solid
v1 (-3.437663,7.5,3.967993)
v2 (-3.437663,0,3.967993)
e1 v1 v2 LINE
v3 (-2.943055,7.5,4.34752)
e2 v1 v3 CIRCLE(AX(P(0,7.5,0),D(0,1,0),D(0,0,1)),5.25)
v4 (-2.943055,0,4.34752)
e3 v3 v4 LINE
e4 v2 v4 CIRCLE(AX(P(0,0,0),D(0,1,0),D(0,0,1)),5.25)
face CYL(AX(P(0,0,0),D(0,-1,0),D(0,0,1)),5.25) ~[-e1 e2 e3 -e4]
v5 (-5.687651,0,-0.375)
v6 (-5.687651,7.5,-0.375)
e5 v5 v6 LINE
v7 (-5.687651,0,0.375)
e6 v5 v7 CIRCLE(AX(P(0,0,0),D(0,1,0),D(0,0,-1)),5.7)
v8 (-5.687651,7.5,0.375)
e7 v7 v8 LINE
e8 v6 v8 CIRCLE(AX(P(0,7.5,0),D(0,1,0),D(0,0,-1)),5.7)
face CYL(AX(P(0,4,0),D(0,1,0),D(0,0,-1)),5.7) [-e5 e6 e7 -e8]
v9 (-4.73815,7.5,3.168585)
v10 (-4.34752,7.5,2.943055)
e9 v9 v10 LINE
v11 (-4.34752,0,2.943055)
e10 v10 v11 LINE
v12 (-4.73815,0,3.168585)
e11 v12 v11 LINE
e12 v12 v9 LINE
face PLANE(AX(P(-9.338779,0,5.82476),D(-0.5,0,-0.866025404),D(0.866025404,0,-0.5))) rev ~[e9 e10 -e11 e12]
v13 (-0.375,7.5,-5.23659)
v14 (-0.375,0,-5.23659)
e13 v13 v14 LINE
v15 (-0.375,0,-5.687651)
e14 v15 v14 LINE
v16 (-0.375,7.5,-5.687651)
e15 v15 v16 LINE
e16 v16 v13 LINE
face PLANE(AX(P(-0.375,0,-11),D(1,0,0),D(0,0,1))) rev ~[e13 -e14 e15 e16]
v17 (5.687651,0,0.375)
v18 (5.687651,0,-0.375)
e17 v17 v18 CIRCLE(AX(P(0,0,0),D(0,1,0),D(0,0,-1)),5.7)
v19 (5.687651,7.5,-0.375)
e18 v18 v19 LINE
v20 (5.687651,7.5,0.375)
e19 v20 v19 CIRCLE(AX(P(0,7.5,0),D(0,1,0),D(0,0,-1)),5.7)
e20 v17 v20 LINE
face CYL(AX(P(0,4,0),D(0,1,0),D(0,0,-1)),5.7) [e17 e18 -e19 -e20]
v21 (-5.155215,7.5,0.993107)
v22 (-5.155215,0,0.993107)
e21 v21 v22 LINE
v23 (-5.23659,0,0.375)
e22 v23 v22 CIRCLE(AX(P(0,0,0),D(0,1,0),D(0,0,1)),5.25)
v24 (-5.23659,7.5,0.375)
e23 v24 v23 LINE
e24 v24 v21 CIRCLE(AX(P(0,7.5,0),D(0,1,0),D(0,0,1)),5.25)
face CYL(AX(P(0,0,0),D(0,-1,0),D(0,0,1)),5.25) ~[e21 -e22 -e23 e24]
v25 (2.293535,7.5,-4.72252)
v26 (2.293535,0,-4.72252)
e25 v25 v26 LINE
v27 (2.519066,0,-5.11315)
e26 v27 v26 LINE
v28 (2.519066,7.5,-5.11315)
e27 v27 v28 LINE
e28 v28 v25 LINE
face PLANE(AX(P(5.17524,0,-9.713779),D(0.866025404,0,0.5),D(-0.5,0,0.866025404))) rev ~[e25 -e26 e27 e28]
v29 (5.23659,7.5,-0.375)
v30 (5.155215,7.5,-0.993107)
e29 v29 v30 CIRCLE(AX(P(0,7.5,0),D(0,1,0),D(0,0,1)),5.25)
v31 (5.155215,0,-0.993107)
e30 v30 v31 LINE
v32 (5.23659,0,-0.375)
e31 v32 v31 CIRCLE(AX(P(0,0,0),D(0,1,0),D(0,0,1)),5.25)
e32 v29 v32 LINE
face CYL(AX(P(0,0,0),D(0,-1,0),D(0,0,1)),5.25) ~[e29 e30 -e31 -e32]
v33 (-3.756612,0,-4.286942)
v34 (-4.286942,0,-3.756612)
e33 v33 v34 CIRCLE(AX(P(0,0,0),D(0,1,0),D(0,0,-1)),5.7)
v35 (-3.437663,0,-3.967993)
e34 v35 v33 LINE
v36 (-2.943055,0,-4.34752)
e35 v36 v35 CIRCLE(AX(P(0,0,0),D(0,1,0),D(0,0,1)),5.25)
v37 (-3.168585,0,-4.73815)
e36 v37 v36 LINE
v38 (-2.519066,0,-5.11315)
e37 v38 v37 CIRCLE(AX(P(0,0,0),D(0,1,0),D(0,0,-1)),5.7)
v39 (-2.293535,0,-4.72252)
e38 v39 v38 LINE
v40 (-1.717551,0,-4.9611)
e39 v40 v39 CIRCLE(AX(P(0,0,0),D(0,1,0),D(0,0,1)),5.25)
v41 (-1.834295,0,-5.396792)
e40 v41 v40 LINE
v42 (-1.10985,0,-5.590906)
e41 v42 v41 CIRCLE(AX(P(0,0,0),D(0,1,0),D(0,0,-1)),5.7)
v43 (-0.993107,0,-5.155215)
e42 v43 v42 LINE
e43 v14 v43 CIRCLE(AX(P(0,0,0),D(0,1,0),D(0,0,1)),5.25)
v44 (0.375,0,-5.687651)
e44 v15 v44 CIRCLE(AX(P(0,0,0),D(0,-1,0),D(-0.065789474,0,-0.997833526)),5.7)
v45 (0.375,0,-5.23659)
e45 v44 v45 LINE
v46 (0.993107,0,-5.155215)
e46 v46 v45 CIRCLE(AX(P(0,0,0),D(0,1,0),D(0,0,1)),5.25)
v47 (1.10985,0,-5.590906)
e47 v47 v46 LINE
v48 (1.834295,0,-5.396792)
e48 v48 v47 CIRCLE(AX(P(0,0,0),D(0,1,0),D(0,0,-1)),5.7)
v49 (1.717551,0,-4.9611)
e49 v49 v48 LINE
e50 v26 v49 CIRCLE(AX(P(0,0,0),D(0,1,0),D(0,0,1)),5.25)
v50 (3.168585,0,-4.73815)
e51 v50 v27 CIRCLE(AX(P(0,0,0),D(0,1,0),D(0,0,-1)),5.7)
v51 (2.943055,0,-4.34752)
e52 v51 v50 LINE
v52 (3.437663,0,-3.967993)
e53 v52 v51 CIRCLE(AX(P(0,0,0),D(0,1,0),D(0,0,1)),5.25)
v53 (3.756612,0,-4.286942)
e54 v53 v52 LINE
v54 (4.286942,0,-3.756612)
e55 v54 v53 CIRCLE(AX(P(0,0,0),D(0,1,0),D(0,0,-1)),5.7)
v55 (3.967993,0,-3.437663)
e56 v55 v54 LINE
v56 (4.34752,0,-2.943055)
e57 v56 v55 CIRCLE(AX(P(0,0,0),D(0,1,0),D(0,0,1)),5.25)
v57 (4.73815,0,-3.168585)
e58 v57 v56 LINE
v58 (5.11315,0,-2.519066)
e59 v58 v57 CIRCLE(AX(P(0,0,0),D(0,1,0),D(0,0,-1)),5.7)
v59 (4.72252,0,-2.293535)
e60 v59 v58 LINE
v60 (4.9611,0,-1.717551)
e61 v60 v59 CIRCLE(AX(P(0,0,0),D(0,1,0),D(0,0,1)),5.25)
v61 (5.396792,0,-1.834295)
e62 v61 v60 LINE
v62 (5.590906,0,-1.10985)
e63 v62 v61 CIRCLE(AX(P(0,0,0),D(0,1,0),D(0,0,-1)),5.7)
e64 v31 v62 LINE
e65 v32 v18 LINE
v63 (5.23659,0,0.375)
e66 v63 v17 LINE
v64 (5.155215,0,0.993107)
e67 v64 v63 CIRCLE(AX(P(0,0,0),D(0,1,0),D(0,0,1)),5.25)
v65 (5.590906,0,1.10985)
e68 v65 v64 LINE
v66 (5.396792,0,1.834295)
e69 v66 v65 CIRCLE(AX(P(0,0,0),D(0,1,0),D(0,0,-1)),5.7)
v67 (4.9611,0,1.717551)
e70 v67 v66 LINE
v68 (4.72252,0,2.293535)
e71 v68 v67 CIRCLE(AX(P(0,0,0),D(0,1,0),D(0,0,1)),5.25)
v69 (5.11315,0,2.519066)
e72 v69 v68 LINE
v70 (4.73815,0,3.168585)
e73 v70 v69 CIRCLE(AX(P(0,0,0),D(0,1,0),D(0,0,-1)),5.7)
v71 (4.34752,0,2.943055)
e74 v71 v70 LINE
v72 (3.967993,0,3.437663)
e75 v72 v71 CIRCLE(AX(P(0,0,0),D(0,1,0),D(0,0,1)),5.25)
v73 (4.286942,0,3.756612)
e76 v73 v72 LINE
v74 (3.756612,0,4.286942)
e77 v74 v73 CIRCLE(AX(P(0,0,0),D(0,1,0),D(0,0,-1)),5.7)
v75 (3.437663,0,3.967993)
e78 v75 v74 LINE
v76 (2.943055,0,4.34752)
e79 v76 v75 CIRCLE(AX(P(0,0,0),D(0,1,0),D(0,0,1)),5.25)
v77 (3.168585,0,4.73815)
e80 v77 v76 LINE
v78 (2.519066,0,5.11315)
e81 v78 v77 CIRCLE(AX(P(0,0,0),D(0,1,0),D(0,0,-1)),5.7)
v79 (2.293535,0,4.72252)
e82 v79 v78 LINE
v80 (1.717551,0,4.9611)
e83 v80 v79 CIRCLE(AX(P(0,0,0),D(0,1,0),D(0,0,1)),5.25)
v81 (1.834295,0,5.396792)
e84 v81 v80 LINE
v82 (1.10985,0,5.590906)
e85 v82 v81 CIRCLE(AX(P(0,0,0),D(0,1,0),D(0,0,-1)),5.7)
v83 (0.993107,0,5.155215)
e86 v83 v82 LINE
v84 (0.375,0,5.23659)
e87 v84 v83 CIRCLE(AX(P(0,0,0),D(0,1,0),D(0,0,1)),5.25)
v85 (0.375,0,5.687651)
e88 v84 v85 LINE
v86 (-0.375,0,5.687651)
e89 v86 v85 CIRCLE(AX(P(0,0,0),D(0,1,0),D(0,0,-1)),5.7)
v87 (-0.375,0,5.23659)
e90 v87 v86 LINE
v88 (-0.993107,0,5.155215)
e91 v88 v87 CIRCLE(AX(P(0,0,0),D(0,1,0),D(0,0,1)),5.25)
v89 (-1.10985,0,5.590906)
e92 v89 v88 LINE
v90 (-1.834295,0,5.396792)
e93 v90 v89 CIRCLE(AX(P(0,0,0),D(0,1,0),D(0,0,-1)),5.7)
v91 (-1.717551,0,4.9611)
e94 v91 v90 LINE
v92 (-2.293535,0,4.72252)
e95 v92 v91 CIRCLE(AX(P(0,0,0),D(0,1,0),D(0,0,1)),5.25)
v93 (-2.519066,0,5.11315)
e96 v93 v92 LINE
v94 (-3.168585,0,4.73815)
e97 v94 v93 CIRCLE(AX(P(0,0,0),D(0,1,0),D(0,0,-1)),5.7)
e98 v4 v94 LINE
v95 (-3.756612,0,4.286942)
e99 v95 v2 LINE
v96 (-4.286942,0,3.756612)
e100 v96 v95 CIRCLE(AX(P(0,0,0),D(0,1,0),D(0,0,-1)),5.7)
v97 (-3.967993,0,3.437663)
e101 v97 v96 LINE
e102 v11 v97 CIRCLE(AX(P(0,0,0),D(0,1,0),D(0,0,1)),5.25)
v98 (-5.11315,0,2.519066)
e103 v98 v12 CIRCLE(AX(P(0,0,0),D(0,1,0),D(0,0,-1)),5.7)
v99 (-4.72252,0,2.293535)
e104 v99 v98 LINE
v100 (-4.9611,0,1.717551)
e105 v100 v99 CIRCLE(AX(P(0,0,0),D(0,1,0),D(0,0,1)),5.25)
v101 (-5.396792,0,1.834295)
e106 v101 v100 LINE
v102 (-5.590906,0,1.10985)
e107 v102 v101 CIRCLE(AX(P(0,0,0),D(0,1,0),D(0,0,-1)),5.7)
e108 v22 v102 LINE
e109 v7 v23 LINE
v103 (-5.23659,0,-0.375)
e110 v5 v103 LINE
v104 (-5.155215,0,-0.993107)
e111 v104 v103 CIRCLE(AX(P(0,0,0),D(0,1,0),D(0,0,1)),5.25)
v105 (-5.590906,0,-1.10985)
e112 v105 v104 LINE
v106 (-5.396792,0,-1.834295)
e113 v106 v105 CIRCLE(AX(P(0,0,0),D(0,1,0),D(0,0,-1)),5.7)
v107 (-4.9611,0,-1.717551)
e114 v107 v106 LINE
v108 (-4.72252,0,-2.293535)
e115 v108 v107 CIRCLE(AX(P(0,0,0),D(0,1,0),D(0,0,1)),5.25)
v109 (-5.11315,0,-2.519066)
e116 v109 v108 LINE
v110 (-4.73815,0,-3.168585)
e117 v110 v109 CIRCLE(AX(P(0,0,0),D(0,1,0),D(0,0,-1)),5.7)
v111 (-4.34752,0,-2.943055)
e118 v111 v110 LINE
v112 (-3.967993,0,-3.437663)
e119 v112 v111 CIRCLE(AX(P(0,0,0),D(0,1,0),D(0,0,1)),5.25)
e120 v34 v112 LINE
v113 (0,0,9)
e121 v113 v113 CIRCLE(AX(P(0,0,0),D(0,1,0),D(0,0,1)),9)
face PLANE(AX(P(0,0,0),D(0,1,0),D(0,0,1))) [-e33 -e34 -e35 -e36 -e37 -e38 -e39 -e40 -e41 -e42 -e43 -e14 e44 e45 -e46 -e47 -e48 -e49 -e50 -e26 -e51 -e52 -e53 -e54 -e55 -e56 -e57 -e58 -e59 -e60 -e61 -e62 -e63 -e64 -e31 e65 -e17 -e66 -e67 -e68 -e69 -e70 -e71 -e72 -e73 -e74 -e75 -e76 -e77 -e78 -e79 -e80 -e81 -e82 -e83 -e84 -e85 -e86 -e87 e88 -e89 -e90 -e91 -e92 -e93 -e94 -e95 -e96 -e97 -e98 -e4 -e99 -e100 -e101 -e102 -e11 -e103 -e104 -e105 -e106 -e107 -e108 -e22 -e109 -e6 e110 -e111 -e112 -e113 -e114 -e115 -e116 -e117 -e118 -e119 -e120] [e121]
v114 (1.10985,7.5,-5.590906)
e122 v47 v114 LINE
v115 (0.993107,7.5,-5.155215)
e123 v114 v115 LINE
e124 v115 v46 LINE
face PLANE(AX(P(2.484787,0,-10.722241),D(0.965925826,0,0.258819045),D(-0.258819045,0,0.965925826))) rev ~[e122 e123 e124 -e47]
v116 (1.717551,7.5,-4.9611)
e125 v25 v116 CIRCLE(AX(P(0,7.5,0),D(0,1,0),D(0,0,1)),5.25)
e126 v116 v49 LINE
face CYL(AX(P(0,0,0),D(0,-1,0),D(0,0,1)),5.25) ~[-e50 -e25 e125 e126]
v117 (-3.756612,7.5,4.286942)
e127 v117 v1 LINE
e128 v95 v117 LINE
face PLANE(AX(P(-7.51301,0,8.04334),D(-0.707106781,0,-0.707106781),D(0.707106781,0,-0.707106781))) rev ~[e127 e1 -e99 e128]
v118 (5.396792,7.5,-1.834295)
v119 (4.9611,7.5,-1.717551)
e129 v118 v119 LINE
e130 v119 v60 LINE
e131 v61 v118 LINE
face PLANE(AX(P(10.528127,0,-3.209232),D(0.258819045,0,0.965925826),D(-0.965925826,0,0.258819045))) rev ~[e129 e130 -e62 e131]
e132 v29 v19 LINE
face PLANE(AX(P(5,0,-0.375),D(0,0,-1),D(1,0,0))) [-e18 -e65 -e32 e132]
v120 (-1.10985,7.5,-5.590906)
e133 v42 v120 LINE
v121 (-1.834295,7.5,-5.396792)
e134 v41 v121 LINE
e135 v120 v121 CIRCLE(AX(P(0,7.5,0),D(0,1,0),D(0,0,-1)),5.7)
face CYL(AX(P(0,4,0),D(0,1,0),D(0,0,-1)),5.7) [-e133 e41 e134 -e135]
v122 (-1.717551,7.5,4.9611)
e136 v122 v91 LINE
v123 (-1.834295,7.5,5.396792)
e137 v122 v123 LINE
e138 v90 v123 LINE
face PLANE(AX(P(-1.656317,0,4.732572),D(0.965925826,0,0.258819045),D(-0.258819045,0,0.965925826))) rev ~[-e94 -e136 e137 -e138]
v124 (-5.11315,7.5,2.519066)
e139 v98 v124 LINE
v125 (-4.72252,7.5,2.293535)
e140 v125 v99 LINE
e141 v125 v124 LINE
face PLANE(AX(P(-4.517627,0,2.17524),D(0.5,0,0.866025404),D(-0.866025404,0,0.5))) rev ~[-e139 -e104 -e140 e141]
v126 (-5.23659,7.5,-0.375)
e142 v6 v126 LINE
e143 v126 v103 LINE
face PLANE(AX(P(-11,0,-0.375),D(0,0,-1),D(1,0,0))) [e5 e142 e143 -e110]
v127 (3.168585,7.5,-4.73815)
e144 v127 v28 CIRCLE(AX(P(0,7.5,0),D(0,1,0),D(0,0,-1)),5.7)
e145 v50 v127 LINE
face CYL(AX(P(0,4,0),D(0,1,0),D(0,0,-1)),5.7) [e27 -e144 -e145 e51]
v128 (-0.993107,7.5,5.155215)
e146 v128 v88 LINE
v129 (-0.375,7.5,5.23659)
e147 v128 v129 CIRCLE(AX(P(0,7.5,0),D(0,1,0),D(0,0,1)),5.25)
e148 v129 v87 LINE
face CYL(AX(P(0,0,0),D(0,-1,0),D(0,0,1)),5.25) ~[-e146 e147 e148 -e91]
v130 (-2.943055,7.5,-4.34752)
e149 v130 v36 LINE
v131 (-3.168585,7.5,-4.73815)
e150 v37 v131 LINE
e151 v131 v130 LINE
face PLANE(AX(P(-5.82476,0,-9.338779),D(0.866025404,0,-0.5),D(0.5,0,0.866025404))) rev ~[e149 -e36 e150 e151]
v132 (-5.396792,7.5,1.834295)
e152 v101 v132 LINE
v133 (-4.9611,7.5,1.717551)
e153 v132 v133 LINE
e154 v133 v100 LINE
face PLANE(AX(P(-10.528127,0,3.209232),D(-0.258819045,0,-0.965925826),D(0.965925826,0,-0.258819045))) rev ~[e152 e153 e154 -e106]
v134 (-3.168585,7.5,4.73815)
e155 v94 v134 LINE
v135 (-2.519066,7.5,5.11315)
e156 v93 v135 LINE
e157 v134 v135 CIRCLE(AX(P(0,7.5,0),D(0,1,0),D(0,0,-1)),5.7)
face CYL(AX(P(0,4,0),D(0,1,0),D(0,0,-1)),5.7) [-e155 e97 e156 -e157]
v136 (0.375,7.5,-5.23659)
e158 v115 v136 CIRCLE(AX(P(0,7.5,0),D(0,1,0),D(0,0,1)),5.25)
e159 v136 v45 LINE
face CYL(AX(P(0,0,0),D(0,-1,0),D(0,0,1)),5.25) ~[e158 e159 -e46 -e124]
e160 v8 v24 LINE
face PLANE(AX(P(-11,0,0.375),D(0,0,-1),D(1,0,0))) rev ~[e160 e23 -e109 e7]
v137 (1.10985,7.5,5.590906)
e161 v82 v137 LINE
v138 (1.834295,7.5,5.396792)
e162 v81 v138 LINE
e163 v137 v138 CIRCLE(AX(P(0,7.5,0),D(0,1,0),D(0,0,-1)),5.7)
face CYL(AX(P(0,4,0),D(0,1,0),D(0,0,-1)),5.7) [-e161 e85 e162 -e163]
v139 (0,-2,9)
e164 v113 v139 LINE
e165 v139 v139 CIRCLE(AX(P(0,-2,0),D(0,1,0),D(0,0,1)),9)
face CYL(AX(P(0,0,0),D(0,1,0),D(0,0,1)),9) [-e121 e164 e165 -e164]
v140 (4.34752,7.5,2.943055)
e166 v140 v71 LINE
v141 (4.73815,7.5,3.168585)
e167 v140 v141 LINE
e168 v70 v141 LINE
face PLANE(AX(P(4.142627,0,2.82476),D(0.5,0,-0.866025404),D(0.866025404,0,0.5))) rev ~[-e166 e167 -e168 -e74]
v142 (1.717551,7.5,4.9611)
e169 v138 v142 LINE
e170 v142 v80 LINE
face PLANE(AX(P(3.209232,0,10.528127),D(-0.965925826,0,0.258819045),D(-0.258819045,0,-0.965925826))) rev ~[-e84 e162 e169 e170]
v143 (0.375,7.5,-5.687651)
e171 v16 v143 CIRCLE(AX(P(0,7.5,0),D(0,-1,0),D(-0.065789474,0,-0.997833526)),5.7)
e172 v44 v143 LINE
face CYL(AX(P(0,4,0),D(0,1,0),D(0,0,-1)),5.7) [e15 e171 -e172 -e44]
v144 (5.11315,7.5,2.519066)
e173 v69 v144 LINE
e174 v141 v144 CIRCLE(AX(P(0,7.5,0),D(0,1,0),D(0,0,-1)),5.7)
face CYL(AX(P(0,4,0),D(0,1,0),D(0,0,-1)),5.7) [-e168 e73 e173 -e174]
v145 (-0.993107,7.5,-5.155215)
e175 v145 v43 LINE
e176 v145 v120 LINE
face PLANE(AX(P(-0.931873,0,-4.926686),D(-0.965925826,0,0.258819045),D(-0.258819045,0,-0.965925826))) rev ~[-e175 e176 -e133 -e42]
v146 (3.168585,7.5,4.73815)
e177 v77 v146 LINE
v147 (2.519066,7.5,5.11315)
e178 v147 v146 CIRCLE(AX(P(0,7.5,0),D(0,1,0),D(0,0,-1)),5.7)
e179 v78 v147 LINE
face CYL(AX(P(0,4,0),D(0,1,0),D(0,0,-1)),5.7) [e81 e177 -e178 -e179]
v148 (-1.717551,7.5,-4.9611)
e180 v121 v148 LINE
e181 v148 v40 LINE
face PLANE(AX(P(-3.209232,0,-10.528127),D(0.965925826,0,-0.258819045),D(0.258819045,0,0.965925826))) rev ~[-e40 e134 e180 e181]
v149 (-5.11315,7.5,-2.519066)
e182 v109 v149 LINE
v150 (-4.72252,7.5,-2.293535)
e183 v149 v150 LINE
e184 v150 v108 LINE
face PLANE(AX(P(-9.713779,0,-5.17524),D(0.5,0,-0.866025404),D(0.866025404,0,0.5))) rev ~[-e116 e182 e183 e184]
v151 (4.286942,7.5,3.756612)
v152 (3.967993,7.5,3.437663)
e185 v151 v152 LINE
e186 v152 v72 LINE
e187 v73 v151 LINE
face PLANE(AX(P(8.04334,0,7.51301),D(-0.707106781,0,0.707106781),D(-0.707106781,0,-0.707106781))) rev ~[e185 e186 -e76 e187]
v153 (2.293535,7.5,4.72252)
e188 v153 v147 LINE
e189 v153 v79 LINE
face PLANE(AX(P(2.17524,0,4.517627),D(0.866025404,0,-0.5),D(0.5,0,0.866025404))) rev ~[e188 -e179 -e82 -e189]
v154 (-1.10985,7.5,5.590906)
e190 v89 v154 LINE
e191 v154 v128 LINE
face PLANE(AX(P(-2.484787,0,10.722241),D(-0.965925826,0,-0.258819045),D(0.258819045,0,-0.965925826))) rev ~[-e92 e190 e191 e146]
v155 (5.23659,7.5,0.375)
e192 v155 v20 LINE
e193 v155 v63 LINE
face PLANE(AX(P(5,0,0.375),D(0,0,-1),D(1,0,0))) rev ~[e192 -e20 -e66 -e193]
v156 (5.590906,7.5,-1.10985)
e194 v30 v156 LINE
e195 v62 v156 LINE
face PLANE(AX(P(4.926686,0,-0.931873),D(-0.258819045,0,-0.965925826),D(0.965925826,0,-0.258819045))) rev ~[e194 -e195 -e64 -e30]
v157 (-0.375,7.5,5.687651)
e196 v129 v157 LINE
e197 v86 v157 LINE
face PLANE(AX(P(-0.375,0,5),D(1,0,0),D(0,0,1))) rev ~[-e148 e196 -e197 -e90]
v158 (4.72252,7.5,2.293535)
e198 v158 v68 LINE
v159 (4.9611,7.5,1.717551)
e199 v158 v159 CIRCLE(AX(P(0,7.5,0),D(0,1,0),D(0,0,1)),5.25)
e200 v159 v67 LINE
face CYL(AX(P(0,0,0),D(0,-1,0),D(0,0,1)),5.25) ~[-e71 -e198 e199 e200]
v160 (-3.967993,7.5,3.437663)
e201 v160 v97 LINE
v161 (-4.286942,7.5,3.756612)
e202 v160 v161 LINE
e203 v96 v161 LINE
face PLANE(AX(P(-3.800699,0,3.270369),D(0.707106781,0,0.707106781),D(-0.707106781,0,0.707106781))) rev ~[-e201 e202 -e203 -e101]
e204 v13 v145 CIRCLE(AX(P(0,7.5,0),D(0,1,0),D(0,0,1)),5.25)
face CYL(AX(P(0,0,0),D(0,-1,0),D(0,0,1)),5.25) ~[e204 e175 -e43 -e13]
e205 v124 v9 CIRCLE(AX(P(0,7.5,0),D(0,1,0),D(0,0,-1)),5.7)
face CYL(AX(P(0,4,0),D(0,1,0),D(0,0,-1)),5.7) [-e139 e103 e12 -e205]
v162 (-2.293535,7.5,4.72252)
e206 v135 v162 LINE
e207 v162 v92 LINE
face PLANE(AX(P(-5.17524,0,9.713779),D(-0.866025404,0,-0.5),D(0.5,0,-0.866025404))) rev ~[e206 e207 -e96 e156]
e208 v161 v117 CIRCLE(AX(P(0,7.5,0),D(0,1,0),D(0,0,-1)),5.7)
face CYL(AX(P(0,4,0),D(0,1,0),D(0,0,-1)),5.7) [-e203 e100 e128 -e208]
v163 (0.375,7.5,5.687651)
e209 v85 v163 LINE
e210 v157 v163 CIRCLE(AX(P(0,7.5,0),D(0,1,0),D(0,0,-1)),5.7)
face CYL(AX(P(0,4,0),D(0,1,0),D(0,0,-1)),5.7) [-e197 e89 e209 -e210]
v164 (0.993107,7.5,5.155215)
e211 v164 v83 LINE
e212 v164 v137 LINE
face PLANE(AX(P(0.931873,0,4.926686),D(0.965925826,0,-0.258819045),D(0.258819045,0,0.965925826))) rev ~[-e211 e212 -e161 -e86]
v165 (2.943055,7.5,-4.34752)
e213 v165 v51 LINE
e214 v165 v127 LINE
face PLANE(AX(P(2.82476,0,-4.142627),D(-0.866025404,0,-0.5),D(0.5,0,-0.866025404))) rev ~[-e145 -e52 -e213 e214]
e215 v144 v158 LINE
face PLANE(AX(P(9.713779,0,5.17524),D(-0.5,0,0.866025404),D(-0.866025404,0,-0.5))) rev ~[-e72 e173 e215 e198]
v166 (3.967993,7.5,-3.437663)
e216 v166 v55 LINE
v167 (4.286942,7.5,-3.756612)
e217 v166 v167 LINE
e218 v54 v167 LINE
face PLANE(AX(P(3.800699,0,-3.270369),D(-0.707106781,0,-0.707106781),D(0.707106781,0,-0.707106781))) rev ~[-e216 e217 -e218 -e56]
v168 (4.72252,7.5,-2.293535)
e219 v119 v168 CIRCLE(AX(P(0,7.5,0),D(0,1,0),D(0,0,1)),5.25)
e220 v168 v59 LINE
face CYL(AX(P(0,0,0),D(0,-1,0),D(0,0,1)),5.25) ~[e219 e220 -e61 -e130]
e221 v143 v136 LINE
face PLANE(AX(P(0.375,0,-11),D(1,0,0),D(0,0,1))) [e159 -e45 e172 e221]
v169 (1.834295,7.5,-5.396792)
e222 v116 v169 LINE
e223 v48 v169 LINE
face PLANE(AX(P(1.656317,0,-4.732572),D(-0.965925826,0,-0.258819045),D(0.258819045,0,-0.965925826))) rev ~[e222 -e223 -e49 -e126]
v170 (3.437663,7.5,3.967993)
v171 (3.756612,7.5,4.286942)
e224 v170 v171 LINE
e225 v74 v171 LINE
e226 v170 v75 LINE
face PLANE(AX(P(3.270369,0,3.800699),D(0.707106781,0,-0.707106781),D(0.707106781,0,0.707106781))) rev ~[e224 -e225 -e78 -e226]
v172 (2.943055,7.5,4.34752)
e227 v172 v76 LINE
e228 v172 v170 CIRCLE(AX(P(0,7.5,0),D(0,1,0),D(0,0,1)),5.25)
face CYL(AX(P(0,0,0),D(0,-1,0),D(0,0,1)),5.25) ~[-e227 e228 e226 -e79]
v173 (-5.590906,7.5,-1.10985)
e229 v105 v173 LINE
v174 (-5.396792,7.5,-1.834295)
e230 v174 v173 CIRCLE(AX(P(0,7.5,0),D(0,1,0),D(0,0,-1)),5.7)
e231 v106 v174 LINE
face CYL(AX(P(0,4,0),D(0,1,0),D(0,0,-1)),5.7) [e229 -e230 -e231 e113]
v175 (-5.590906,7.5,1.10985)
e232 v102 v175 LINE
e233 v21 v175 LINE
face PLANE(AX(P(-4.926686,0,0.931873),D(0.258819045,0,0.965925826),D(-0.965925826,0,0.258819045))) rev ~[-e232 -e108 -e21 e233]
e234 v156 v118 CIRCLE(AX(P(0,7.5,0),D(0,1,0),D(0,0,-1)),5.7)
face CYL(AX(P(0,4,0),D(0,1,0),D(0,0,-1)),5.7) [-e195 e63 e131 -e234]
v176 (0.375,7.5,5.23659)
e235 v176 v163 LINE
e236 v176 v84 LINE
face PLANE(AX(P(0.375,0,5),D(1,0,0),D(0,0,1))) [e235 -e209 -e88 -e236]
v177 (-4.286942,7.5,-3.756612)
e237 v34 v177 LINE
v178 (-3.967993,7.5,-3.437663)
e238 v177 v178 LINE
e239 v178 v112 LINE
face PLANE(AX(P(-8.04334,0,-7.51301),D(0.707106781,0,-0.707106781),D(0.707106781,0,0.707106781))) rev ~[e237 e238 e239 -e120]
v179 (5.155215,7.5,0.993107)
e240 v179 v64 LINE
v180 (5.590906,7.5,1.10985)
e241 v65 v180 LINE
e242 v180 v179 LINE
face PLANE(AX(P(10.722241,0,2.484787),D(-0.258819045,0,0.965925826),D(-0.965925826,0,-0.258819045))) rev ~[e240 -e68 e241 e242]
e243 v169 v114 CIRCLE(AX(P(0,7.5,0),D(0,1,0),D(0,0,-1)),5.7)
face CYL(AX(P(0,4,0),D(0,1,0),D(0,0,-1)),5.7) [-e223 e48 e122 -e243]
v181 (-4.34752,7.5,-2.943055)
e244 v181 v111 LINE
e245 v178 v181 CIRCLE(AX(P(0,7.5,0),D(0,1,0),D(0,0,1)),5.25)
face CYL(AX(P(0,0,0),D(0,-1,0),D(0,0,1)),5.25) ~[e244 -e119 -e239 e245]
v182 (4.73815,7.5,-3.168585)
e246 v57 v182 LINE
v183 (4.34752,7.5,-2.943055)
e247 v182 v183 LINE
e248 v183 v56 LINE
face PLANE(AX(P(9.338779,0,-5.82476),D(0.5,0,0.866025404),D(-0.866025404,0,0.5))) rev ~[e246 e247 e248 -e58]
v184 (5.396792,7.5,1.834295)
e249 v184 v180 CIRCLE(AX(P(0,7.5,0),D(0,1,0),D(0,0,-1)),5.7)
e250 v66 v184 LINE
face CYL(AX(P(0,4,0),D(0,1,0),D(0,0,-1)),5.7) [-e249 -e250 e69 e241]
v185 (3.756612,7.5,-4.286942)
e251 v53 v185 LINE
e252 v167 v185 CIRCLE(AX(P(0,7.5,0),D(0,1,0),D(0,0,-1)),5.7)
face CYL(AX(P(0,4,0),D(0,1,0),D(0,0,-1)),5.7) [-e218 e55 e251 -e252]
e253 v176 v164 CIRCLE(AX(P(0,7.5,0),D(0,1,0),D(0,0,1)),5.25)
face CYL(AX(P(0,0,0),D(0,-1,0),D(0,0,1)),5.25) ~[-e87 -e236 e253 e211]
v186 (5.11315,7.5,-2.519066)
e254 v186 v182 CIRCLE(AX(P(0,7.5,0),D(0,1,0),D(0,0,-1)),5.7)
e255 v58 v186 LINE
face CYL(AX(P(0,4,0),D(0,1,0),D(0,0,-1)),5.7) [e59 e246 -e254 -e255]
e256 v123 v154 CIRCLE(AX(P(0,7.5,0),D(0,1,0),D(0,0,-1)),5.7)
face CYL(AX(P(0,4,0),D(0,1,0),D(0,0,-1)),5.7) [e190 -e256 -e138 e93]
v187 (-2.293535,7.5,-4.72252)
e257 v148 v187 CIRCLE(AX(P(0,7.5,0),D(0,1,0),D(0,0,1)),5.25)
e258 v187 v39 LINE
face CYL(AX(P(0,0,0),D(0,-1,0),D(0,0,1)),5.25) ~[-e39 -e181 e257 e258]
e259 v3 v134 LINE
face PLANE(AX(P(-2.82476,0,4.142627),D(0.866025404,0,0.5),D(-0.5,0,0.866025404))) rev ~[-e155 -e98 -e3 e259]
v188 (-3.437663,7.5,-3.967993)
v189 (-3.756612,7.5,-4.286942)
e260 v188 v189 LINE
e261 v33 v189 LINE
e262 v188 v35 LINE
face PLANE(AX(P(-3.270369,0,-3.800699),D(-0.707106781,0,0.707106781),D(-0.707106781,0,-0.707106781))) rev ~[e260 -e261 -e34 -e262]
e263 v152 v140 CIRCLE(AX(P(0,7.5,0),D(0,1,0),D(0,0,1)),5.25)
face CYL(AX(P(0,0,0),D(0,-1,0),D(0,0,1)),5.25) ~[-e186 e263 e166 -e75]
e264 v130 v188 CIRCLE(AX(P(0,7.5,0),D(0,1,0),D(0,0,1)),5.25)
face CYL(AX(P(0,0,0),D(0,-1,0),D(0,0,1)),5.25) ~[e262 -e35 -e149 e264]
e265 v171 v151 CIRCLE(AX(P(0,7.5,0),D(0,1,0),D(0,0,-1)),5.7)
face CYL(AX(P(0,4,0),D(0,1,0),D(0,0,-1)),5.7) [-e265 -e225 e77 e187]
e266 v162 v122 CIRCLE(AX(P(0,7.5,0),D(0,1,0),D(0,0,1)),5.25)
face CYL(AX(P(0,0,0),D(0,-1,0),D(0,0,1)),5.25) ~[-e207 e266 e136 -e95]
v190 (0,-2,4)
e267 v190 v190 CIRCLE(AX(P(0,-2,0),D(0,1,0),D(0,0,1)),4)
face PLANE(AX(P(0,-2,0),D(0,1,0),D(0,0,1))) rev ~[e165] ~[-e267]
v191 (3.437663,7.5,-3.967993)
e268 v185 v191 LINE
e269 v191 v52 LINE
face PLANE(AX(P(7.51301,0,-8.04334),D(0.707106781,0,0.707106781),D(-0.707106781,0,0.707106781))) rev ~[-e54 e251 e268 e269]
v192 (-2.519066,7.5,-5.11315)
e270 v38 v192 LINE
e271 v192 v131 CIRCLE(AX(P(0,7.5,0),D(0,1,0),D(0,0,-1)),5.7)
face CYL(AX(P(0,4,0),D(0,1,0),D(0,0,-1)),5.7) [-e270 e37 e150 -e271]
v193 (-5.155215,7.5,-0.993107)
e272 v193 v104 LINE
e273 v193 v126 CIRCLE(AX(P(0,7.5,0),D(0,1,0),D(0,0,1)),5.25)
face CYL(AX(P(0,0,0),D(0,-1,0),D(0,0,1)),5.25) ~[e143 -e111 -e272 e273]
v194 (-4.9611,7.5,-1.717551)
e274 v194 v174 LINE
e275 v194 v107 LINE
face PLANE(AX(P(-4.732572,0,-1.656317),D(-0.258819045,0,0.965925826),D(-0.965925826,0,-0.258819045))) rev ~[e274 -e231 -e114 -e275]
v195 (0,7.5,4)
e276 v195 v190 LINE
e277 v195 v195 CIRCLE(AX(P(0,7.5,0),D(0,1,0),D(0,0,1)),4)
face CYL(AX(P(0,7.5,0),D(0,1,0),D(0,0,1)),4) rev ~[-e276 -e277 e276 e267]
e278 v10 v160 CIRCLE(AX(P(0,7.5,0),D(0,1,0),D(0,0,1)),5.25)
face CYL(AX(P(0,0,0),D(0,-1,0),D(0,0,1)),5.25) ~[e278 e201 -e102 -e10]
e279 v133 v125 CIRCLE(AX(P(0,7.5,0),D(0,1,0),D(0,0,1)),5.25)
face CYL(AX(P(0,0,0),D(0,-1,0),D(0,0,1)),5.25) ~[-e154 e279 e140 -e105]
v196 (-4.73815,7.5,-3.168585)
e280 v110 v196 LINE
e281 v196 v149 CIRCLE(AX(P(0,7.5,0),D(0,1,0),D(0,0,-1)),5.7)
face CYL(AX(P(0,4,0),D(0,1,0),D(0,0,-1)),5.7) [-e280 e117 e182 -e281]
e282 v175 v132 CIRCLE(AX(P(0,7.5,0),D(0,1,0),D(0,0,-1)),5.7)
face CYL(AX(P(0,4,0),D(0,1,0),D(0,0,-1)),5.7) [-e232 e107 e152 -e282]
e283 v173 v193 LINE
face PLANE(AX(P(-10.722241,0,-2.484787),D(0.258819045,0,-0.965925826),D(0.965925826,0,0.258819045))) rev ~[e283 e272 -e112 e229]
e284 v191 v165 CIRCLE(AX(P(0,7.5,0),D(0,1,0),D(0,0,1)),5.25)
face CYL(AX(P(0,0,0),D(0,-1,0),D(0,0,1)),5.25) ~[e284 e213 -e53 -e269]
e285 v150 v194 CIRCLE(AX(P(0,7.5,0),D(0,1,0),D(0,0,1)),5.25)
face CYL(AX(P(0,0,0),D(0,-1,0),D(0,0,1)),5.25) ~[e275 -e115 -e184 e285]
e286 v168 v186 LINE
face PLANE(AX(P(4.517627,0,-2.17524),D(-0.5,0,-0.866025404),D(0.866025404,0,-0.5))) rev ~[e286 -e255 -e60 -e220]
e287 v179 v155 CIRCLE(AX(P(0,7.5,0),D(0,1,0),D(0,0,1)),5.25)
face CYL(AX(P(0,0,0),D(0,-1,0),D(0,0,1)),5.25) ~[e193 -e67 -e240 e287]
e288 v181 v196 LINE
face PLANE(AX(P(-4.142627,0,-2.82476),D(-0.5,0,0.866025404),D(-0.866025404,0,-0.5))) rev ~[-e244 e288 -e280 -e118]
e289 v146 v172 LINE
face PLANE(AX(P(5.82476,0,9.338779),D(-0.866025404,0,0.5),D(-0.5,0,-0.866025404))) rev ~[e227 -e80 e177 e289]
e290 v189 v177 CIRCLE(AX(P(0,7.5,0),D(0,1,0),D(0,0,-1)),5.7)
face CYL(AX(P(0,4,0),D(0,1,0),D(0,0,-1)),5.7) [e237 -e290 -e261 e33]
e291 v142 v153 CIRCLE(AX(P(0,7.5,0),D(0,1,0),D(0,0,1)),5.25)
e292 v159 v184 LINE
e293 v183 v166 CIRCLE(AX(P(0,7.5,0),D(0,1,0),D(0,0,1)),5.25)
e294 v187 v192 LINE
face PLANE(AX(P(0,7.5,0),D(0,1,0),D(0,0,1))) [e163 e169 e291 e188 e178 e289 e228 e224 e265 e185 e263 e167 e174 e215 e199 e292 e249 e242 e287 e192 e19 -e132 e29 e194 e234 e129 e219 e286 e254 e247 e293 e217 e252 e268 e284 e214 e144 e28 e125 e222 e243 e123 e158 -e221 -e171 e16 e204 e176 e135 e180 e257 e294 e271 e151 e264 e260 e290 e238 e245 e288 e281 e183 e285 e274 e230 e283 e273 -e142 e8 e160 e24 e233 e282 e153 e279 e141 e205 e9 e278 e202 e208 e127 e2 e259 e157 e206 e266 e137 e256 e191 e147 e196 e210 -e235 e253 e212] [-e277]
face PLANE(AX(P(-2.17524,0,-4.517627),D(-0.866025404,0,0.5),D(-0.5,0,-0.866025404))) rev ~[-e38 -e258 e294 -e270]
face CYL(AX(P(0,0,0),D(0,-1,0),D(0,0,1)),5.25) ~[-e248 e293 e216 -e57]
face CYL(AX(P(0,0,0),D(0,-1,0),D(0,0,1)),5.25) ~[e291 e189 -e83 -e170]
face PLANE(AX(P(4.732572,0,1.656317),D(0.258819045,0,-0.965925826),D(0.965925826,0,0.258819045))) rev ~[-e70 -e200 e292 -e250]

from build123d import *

# Parameters (mm, degrees)
SKETCH1_R           = 5.25
BOSS_EXTRUDE1_DEPTH = 7.5
SKETCH2_W           = 6
SKETCH2_H           = 0.75
SKETCH2_W_2         = 0.75
SKETCH2_H_2         = 6
BOSS_EXTRUDE2_DEPTH = 7.5
SKETCH5_W           = 10
SKETCH5_H           = 10
SKETCH6_R           = 9
BOSS_EXTRUDE3_DEPTH = 2
SKETCH7_R           = 4
CUT_EXTRUDE2_DEPTH  = 16.882380174


with BuildPart() as part:
    # Sketch1 → Boss-Extrude1 (new body)
    with BuildSketch(Plane(origin=(0, 0, 0), x_dir=(1, 0, 0), z_dir=(0, 1, 0))):
        with Locations(Location((0, 0, 0), (0, 0, 270))):
            Circle(SKETCH1_R)
    extrude(amount=BOSS_EXTRUDE1_DEPTH)

    # Sketch2 → Boss-Extrude2 (add)
    with BuildSketch(Plane.XZ):
        with Locations((8, 0)):
            Rectangle(SKETCH2_W, SKETCH2_H)
        Polygon((10.528126947, -3.209231681), (4.73257199, -1.65631741), (4.926686273, -0.931873041), (10.722241231, -2.484787311), align=None)
        Polygon((9.338779442, -5.824759526), (4.142627019, -2.824759526), (4.517627019, -2.175240474), (9.713779442, -5.175240474), align=None)
        Polygon((7.51300955, -8.043339636), (3.270368863, -3.800698949), (3.800698949, -3.270368863), (8.043339636, -7.51300955), align=None)
        Polygon((5.175240474, -9.713779442), (2.175240474, -4.517627019), (2.824759526, -4.142627019), (5.824759526, -9.338779442), align=None)
        Polygon((2.484787311, -10.722241231), (0.931873041, -4.926686273), (1.65631741, -4.73257199), (3.209231681, -10.528126947), align=None)
        with Locations((0, -8)):
            Rectangle(SKETCH2_W_2, SKETCH2_H_2)
        Polygon((-3.209231681, -10.528126947), (-1.65631741, -4.73257199), (-0.931873041, -4.926686273), (-2.484787311, -10.722241231), align=None)
        Polygon((-5.824759526, -9.338779442), (-2.824759526, -4.142627019), (-2.175240474, -4.517627019), (-5.175240474, -9.713779442), align=None)
        Polygon((-8.043339636, -7.51300955), (-3.800698949, -3.270368863), (-3.270368863, -3.800698949), (-7.51300955, -8.043339636), align=None)
        Polygon((-9.713779442, -5.175240474), (-4.517627019, -2.175240474), (-4.142627019, -2.824759526), (-9.338779442, -5.824759526), align=None)
        Polygon((-10.722241231, -2.484787311), (-4.926686273, -0.931873041), (-4.73257199, -1.65631741), (-10.528126947, -3.209231681), align=None)
        with Locations((-8, 0)):
            Rectangle(SKETCH2_W, SKETCH2_H)
        Polygon((-10.528126947, 3.209231681), (-4.73257199, 1.65631741), (-4.926686273, 0.931873041), (-10.722241231, 2.484787311), align=None)
        Polygon((-9.338779442, 5.824759526), (-4.142627019, 2.824759526), (-4.517627019, 2.175240474), (-9.713779442, 5.175240474), align=None)
        Polygon((-7.51300955, 8.043339636), (-3.270368863, 3.800698949), (-3.800698949, 3.270368863), (-8.043339636, 7.51300955), align=None)
        Polygon((-5.175240474, 9.713779442), (-2.175240474, 4.517627019), (-2.824759526, 4.142627019), (-5.824759526, 9.338779442), align=None)
        Polygon((-2.484787311, 10.722241231), (-0.931873041, 4.926686273), (-1.65631741, 4.73257199), (-3.209231681, 10.528126947), align=None)
        with Locations((0, 8)):
            Rectangle(SKETCH2_W_2, SKETCH2_H_2)
        Polygon((3.209231681, 10.528126947), (1.65631741, 4.73257199), (0.931873041, 4.926686273), (2.484787311, 10.722241231), align=None)
        Polygon((5.824759526, 9.338779442), (2.824759526, 4.142627019), (2.175240474, 4.517627019), (5.175240474, 9.713779442), align=None)
        Polygon((8.043339636, 7.51300955), (3.800698949, 3.270368863), (3.270368863, 3.800698949), (7.51300955, 8.043339636), align=None)
        Polygon((9.713779442, 5.175240474), (4.517627019, 2.175240474), (4.142627019, 2.824759526), (9.338779442, 5.824759526), align=None)
        Polygon((10.722241231, 2.484787311), (4.926686273, 0.931873041), (4.73257199, 1.65631741), (10.528126947, 3.209231681), align=None)
    extrude(amount=-BOSS_EXTRUDE2_DEPTH)

    # Sketch5 → Cut-Revolve1 (revolve, cut)
    with BuildSketch(Plane(origin=(0, 0, 0), x_dir=(0, 0, -1), z_dir=(1, 0, 0))):
        with Locations((10.7, 4)):
            Rectangle(SKETCH5_W, SKETCH5_H)
    revolve(axis=Axis((0, 0, 0), (0, 1, 0)), mode=Mode.SUBTRACT)

    # Sketch6 → Boss-Extrude3 (add)
    with BuildSketch(Plane(origin=(0, 0, 0), x_dir=(1, 0, 0), z_dir=(0, 1, 0))):
        with Locations(Location((0, 0, 0), (0, 0, 270))):
            Circle(SKETCH6_R)
    extrude(amount=-BOSS_EXTRUDE3_DEPTH)

    # Sketch7 → Cut-Extrude2 (cut, through all)
    with BuildSketch(Plane(origin=(0, 7.5, 0), x_dir=(1, 0, 0), z_dir=(0, 1, 0))):
        with Locations(Location((0, 0, 0), (0, 0, 270))):
            Circle(SKETCH7_R)
    extrude(amount=-CUT_EXTRUDE2_DEPTH, mode=Mode.SUBTRACT)


solid = part.part
